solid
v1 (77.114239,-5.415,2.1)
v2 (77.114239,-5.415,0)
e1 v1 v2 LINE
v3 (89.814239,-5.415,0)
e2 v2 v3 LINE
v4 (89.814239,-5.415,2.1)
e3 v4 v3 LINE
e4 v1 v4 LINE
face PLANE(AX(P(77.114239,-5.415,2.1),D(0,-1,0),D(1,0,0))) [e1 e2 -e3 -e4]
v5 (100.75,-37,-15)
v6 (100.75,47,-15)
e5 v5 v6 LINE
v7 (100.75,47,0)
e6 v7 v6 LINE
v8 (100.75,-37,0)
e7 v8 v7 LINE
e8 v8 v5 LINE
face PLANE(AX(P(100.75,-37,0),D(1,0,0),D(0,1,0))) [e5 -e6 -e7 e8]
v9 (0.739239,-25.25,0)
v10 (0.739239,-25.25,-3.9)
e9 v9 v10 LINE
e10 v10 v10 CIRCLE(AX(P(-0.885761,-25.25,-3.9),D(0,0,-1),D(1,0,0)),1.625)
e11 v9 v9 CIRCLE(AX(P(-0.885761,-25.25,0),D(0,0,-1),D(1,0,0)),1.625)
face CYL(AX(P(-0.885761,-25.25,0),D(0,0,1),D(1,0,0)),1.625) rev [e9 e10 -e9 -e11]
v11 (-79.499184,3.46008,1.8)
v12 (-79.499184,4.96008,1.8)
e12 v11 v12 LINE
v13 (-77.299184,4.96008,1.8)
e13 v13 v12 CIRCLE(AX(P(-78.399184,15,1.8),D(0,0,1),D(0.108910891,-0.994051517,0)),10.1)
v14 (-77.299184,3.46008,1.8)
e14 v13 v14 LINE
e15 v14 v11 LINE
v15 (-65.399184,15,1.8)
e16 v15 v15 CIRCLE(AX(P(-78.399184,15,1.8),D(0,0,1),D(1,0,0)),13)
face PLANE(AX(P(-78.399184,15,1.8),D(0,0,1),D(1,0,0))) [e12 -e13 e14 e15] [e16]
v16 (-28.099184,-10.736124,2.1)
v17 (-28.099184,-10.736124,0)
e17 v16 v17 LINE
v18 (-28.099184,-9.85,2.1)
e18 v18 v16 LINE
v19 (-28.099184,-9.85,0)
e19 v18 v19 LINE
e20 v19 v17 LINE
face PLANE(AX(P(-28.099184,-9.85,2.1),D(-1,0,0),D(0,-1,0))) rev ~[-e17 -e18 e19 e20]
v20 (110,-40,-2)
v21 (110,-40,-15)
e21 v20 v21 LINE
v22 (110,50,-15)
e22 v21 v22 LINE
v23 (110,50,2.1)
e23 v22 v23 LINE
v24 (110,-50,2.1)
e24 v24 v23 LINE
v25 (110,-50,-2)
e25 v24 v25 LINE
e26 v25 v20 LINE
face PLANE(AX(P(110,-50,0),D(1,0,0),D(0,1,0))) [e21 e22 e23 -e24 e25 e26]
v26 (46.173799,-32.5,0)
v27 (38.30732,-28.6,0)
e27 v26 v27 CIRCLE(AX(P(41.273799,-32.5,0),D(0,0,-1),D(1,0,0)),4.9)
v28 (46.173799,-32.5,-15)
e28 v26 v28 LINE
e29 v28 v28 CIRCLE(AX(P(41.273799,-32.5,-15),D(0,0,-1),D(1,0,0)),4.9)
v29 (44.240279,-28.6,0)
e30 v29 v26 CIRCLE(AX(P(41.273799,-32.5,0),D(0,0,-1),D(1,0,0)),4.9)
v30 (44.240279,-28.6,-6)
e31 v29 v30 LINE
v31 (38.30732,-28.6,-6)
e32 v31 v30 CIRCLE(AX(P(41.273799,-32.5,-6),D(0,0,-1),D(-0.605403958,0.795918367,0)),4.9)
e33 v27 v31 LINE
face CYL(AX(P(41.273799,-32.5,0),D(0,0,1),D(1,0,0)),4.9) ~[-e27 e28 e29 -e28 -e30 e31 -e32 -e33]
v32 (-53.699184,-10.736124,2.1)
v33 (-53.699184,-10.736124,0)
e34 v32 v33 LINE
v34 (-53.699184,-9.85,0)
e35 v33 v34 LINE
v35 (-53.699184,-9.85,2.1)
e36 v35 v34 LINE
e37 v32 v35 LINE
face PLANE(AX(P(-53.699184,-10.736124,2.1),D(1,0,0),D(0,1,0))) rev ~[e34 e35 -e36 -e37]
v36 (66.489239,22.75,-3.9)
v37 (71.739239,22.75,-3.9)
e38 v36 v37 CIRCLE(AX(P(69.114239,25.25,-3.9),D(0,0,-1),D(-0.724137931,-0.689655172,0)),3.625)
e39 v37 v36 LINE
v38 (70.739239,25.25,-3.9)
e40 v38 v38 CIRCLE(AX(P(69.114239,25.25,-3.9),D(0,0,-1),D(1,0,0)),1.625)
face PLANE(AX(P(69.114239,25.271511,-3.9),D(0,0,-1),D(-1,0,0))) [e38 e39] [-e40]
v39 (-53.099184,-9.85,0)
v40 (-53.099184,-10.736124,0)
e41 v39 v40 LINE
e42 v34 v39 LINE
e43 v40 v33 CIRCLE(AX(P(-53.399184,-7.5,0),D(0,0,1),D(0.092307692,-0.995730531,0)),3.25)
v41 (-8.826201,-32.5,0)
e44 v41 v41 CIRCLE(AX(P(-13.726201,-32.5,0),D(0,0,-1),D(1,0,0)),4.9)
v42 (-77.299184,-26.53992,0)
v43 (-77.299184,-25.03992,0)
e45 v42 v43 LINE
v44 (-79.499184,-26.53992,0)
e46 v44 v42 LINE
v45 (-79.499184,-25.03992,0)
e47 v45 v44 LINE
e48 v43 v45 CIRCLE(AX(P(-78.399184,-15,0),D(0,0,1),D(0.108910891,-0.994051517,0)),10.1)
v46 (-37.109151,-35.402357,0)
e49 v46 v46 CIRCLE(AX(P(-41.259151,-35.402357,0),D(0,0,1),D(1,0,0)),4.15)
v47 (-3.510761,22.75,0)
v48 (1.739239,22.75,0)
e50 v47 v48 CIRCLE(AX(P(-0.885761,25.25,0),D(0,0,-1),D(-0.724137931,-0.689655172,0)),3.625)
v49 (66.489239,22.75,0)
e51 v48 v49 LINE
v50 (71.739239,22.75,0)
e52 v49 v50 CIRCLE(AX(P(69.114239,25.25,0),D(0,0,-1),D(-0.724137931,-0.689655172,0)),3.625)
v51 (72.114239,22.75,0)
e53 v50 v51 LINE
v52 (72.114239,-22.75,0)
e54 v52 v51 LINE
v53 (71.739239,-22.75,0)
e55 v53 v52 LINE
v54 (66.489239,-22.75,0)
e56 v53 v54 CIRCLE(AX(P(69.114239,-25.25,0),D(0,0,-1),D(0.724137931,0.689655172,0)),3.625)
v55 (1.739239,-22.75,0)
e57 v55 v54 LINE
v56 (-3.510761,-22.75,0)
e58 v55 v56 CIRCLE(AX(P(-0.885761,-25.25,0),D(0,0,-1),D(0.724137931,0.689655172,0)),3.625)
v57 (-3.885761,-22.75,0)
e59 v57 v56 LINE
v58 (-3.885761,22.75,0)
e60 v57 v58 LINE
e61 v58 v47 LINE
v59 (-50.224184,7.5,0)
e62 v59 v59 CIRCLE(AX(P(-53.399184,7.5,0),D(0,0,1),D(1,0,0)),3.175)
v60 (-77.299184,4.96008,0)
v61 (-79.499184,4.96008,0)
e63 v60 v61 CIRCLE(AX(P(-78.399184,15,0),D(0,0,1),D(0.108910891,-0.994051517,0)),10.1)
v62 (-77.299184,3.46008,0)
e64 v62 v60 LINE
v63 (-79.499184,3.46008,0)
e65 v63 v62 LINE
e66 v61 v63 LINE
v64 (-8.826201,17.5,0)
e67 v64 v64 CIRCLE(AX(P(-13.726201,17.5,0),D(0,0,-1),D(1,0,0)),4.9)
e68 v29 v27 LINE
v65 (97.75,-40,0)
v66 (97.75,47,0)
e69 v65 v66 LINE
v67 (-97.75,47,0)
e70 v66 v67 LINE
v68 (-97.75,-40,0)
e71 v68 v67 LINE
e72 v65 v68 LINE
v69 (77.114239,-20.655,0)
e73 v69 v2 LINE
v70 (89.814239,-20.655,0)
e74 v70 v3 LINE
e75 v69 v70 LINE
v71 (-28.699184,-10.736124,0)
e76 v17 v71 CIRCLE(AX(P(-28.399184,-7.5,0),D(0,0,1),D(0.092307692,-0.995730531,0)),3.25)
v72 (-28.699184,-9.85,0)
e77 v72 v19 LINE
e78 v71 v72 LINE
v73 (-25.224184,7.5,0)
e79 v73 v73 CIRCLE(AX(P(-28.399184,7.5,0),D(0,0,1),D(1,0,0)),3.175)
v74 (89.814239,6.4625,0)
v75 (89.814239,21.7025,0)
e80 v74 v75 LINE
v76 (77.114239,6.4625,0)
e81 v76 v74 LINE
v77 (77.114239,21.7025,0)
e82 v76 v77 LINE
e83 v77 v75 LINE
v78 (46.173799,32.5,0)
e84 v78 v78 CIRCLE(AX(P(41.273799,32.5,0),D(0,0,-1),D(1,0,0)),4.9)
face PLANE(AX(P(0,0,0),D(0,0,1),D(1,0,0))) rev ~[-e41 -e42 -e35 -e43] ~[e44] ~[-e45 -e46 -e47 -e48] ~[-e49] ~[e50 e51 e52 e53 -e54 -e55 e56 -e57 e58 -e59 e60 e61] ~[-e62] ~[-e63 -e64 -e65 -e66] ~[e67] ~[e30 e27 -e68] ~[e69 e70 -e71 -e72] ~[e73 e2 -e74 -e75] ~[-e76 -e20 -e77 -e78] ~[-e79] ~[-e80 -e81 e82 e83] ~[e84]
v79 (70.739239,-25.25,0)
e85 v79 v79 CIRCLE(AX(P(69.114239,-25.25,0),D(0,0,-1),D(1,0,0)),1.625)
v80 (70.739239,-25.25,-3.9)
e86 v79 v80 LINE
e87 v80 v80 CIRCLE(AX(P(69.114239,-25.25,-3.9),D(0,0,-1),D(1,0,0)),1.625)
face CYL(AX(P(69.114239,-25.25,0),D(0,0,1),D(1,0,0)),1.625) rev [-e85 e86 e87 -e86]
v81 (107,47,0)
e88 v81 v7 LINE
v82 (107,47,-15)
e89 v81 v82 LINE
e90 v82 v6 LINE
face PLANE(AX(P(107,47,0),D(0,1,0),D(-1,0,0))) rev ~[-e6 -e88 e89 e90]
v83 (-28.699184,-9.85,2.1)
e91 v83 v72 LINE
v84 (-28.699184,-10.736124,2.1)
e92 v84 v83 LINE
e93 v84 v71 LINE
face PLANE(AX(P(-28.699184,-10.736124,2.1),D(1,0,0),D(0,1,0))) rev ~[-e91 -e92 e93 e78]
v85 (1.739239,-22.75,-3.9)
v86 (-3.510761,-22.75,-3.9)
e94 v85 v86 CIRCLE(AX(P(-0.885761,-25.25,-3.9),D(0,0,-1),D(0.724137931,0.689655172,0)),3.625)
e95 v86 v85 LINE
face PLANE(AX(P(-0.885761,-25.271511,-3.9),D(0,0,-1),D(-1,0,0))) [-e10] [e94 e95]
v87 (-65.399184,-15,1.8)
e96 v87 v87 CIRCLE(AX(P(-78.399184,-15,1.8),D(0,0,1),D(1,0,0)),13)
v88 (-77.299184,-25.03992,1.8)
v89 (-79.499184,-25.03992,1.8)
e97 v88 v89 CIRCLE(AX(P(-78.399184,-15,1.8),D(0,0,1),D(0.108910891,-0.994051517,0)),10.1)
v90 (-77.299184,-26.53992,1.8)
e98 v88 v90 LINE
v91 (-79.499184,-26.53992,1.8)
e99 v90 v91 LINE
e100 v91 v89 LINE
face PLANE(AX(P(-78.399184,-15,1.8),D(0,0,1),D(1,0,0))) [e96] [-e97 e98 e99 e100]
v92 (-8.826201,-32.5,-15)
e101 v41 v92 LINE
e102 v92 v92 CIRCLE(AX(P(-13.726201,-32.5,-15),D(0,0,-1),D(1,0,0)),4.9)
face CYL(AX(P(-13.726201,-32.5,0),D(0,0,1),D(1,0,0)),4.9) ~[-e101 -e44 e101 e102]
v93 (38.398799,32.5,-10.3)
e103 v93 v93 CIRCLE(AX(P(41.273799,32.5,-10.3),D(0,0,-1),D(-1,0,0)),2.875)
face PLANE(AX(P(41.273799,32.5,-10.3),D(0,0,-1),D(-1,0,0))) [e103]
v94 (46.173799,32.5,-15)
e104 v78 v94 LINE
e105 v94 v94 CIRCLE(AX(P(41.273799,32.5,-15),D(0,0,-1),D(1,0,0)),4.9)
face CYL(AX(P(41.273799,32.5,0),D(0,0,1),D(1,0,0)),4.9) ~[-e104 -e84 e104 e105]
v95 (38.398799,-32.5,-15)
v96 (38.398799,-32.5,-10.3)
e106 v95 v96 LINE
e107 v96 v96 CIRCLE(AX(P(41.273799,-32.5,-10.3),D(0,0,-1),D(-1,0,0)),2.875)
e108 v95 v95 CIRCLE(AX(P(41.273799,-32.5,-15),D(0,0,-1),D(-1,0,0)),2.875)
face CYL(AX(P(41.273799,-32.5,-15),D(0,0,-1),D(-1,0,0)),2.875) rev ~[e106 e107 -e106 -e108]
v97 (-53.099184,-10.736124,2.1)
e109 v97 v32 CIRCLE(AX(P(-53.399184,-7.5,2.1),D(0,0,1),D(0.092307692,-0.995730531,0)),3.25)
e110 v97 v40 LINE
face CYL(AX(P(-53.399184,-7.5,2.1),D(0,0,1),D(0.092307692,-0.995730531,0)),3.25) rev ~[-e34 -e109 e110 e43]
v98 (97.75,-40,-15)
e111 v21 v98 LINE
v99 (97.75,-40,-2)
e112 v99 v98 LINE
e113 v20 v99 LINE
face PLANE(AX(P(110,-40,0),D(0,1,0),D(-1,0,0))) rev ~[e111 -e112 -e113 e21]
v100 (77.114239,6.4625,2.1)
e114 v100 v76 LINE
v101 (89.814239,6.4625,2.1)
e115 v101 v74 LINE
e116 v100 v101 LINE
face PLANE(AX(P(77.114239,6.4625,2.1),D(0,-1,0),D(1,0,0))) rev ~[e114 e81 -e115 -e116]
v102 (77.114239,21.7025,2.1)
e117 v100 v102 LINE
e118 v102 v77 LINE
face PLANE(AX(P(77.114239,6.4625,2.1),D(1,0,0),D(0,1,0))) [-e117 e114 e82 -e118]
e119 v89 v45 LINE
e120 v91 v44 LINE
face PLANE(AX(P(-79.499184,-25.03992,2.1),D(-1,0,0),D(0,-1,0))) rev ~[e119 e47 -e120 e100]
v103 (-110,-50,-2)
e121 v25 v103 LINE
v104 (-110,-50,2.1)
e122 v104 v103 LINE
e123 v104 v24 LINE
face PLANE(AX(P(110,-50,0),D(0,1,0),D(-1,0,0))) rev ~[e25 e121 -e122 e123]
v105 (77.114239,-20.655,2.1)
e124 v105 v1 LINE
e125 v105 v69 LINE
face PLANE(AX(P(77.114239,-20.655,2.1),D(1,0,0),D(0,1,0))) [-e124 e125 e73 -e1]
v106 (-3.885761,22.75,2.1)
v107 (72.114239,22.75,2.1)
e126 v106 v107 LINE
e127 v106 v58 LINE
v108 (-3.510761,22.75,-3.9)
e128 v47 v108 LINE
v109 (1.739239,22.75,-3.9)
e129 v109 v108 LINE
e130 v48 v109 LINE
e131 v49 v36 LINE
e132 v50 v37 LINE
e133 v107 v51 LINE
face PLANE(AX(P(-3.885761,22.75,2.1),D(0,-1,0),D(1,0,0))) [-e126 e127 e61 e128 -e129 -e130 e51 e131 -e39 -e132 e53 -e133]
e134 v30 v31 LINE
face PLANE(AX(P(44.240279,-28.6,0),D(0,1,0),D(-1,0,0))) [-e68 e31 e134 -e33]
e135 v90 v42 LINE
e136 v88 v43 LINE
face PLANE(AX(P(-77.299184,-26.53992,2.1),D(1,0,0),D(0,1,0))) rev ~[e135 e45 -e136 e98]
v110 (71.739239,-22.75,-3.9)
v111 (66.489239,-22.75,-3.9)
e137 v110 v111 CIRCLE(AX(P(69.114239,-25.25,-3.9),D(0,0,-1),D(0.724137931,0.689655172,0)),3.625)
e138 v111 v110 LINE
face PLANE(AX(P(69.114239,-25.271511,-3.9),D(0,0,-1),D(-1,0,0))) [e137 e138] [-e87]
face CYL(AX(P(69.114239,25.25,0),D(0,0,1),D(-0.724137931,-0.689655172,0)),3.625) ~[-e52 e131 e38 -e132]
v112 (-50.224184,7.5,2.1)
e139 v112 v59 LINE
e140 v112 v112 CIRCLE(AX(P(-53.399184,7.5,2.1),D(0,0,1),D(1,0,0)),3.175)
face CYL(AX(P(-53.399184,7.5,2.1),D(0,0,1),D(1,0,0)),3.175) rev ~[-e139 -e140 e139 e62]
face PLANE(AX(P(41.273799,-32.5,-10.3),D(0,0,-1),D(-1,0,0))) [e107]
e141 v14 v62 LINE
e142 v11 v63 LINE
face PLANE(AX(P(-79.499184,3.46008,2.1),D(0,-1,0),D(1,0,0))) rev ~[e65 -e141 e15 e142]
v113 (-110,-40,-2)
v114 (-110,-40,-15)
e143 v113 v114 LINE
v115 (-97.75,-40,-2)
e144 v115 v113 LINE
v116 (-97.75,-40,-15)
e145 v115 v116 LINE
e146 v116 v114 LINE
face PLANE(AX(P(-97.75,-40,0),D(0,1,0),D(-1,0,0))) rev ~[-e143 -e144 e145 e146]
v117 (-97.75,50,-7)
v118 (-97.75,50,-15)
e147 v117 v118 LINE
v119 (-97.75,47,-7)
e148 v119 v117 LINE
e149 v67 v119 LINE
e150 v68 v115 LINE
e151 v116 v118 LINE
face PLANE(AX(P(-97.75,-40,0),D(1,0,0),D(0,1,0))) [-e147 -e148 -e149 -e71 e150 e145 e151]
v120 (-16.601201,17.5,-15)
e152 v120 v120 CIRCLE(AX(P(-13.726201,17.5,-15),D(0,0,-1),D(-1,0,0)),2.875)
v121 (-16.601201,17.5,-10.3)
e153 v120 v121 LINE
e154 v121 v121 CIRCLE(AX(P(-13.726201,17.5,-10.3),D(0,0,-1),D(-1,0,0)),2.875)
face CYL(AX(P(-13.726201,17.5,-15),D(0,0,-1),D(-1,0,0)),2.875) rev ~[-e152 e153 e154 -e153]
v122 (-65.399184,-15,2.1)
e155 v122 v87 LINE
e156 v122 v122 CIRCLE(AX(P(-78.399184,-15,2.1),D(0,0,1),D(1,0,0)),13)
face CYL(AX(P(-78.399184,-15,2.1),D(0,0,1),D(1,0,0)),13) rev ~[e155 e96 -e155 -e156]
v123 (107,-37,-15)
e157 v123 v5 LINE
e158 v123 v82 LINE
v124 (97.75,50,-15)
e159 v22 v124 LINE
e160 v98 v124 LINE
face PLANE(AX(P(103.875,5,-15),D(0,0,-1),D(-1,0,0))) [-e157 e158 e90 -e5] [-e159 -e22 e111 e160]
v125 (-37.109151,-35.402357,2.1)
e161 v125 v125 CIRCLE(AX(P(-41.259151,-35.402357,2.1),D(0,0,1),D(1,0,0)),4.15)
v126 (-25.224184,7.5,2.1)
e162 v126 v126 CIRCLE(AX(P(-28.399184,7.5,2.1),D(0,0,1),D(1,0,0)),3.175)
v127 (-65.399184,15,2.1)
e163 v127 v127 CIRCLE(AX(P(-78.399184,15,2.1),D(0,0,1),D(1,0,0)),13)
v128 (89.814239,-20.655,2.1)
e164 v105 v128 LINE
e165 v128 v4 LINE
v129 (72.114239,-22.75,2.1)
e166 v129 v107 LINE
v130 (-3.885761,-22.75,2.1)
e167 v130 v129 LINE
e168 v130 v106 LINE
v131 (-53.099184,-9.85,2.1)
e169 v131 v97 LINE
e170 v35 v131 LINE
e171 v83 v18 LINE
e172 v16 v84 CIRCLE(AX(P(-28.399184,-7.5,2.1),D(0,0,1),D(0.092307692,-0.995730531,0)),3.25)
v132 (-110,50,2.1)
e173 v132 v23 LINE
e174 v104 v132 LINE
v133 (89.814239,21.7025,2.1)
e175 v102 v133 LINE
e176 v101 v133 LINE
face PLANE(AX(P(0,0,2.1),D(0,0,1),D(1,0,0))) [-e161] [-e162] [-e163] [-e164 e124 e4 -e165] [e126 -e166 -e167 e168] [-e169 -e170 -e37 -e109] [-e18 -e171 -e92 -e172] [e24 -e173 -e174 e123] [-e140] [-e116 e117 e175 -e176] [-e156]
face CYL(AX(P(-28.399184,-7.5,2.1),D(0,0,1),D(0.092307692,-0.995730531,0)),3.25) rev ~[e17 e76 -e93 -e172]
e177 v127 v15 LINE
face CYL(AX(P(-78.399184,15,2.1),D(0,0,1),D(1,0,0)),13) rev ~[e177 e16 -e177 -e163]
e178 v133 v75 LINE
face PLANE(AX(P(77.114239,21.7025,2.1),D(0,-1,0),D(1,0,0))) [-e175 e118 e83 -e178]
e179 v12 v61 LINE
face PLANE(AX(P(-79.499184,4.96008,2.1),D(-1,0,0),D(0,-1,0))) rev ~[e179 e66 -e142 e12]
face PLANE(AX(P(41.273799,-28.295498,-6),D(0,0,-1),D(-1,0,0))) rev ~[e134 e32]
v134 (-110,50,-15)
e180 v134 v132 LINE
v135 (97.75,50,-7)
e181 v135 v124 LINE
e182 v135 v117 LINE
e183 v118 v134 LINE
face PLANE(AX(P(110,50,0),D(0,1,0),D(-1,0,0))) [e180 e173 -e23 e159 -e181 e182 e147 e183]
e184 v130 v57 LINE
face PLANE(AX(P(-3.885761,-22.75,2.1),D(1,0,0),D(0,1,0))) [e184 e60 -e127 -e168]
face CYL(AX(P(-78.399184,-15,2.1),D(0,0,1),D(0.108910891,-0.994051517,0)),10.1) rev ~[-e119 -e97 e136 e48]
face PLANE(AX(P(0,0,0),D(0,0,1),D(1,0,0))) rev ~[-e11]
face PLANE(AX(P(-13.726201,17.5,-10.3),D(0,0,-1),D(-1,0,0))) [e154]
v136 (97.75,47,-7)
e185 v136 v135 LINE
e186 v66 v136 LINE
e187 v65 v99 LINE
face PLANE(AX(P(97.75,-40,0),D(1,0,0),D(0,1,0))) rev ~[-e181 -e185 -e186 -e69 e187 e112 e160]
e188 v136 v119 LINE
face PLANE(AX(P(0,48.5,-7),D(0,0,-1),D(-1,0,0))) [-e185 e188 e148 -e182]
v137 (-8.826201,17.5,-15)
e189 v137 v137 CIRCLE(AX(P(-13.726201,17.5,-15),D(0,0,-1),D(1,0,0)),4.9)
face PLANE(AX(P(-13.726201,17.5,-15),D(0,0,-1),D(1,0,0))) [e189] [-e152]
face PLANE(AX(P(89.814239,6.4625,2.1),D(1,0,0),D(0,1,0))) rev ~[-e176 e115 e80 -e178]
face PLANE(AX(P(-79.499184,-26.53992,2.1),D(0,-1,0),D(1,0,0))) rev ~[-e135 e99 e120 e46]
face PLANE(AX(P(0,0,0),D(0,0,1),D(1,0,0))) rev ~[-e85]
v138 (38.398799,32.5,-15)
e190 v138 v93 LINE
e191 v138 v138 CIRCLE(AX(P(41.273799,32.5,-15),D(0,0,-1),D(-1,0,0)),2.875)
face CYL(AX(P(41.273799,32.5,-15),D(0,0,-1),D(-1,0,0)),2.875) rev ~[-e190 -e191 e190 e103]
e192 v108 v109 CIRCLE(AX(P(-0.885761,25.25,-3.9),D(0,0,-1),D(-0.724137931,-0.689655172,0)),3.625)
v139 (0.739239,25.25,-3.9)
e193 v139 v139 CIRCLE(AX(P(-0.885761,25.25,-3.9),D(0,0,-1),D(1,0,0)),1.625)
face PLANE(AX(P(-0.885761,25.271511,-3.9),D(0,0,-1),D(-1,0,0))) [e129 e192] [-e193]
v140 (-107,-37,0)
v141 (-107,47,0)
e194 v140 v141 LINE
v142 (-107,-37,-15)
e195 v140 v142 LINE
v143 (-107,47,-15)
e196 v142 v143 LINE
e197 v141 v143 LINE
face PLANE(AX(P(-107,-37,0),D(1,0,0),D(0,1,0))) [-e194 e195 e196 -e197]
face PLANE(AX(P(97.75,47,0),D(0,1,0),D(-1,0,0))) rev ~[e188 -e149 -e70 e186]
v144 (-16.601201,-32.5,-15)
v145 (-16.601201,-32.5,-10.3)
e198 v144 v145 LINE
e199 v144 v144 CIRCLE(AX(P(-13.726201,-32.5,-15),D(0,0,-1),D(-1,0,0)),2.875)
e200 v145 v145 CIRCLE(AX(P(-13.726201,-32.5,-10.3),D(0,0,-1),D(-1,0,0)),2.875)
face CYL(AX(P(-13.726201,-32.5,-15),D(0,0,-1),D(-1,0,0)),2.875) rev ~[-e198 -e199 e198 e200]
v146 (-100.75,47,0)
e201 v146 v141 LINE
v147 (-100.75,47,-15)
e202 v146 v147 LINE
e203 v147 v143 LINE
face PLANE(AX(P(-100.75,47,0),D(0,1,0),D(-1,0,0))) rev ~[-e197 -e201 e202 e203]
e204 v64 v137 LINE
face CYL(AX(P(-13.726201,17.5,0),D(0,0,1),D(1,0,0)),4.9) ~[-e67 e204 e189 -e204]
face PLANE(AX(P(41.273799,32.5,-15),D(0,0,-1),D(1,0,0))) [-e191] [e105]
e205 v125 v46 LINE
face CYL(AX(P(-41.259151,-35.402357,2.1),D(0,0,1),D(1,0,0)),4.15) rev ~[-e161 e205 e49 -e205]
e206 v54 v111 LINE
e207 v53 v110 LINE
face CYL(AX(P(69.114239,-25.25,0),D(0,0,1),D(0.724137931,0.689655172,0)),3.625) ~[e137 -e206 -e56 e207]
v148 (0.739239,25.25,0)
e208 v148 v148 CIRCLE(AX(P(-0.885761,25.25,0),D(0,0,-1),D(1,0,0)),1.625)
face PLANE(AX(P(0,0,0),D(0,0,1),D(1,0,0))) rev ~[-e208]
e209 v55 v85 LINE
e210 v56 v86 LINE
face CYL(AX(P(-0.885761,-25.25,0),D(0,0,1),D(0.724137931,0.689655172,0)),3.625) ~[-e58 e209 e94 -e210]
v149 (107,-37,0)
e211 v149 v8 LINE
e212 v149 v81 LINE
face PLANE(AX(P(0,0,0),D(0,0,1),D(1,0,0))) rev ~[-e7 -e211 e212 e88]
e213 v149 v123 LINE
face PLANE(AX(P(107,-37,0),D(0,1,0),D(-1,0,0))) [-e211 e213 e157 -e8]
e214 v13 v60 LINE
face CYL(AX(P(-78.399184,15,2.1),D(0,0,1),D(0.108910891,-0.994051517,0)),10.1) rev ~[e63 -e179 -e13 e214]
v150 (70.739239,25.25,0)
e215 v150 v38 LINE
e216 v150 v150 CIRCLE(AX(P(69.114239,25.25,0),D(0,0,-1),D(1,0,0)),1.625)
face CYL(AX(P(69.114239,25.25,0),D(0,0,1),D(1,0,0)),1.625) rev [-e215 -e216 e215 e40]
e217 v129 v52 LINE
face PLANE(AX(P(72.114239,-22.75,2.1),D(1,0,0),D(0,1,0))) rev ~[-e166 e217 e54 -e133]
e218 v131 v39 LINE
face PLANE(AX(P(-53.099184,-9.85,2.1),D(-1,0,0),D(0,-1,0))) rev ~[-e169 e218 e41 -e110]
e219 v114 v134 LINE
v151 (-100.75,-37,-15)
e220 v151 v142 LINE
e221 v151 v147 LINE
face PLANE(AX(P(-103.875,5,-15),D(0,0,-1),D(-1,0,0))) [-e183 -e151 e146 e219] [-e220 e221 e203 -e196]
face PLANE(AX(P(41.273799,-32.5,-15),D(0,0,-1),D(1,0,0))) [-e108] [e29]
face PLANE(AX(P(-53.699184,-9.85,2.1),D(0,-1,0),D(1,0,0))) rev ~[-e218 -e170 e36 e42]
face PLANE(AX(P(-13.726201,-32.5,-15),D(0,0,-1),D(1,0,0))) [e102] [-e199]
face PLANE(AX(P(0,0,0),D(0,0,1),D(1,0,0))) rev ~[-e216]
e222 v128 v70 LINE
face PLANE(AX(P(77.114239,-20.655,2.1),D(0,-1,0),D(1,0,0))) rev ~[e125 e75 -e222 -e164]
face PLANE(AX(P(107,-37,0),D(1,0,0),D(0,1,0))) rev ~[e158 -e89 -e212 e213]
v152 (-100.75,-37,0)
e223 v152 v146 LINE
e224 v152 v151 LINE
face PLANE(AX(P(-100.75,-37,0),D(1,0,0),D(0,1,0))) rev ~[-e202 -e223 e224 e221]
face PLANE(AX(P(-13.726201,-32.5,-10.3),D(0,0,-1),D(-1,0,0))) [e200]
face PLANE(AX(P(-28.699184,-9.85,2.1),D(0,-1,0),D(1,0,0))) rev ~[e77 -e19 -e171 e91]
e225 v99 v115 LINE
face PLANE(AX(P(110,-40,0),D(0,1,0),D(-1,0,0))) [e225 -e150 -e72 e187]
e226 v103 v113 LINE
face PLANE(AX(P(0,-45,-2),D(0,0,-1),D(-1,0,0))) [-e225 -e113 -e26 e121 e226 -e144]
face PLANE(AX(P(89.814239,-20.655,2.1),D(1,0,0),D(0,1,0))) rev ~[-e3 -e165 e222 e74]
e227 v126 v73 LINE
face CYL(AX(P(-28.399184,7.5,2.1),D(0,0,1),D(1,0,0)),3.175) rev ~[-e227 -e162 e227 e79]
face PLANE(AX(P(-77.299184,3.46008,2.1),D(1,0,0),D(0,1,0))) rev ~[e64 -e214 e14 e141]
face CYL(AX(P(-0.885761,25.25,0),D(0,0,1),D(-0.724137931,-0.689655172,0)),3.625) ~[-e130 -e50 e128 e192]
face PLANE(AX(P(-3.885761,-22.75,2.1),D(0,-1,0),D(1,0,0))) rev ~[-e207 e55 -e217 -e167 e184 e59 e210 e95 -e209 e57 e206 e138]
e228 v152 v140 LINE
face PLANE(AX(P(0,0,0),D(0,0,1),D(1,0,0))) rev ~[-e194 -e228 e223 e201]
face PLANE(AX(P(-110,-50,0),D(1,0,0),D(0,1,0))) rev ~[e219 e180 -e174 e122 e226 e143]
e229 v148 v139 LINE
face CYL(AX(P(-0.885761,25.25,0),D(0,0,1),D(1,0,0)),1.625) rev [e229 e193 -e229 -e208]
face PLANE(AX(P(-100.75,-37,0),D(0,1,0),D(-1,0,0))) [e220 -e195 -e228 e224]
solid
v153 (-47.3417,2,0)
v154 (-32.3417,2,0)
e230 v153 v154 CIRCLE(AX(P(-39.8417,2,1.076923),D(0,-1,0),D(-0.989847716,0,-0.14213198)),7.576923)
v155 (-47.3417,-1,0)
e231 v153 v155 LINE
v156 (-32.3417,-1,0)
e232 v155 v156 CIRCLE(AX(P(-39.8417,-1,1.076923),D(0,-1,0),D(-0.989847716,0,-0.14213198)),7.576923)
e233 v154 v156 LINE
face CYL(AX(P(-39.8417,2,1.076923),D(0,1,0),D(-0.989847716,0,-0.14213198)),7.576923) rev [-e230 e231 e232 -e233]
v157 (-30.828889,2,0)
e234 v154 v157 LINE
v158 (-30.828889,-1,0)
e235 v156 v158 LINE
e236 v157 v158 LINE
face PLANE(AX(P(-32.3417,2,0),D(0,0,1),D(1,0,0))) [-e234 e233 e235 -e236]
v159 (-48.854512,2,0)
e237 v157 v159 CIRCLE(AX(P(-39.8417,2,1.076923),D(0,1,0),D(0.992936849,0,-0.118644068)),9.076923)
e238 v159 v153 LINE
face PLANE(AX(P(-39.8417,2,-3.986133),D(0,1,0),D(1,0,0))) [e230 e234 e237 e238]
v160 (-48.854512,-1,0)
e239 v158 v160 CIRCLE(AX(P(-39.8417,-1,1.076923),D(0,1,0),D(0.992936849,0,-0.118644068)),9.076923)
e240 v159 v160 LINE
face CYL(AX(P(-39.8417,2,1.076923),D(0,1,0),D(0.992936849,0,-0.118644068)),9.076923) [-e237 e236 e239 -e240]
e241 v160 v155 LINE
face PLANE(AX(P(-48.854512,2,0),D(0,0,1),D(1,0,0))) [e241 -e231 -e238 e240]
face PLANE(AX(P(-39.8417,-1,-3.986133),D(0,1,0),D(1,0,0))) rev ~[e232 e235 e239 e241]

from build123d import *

# Parameters (mm, degrees)
SKETCH1_W             = 220
SKETCH1_H             = 100
FRONT_PANEL_DEPTH     = 2.1
START_STOP_DEPTH      = 121.848707068
SKETCH3_R             = 3.175
MODE_SELECT_DEPTH     = 121.848707068
SKETCH4_W             = 76
SKETCH4_H             = 45.5
LCD_CUTOUT_DEPTH      = 121.848707068
SKETCH6_W             = 12.7
SKETCH6_H             = 15.24
LCD_PUSHBUTTONS_DEPTH = 121.848707068
SKETCH8_W             = 12.25
SKETCH8_H             = 90
SKETCH8_W_2           = 6.25
SKETCH8_H_2           = 84
BOSS_EXTRUDE1_DEPTH   = 15
SKETCH9_R             = 4.9
BOSS_EXTRUDE2_DEPTH   = 15
SKETCH11_R            = 1.625
BOSS_EXTRUDE3_DEPTH   = 3.9
CUT_EXTRUDE1_DEPTH    = 6
SKETCH13_R            = 2.875
CUT_EXTRUDE2_DEPTH    = 4.7
SKETCH14_W            = 195.5
SKETCH14_H            = 3
BOSS_EXTRUDE4_DEPTH   = 7
SKETCH17_R            = 13
CUT_EXTRUDE3_DEPTH    = 0.3
SKETCH18_W            = 220
SKETCH18_H            = 10
BOSS_EXTRUDE5_DEPTH   = 2
SKETCH19_R            = 4.15
CUT_EXTRUDE4_DEPTH    = 123.034462346
BOSS_EXTRUDE6_START   = -48
BOSS_EXTRUDE6_DEPTH   = 3


with BuildPart() as part:
    # Sketch1 → Front panel (new body)
    with BuildSketch(Plane.XY):
        Rectangle(SKETCH1_W, SKETCH1_H)
    extrude(amount=FRONT_PANEL_DEPTH)

    # Sketch2 → Start/stop (cut, through all)
    with BuildSketch(Plane.XY.offset(2.1)):
        with BuildLine():
            Line((-79.499183747, 4.960079682), (-79.499183747, 3.460079682))
            Line((-79.499183747, 3.460079682), (-77.299183747, 3.460079682))
            Line((-77.299183747, 3.460079682), (-77.299183747, 4.960079682))
            ThreePointArc((-77.299183747, 4.960079682), (-78.399183747, 25.1), (-79.499183747, 4.960079682))
        make_face()
        with BuildLine():
            Line((-79.499183747, -25.039920318), (-79.499183747, -26.539920318))
            Line((-79.499183747, -26.539920318), (-77.299183747, -26.539920318))
            Line((-77.299183747, -26.539920318), (-77.299183747, -25.039920318))
            ThreePointArc((-77.299183747, -25.039920318), (-78.399183747, -4.9), (-79.499183747, -25.039920318))
        make_face()
    extrude(amount=-START_STOP_DEPTH, mode=Mode.SUBTRACT)

    # Sketch3 → Mode select (cut, through all)
    with BuildSketch(Plane.XY.offset(2.1)):
        with Locations((-53.399183747, 7.5)):
            Circle(SKETCH3_R)
        with Locations((-28.399183747, 7.5)):
            Circle(SKETCH3_R)
        with BuildLine():
            Line((-53.699183747, -10.736124225), (-53.699183747, -9.85))
            Line((-53.699183747, -9.85), (-53.099183747, -9.85))
            Line((-53.099183747, -9.85), (-53.099183747, -10.736124225))
            ThreePointArc((-53.099183747, -10.736124225), (-53.399183747, -4.25), (-53.699183747, -10.736124225))
        make_face()
        with BuildLine():
            Line((-28.699183747, -10.736124225), (-28.699183747, -9.85))
            Line((-28.699183747, -9.85), (-28.099183747, -9.85))
            Line((-28.099183747, -9.85), (-28.099183747, -10.736124225))
            ThreePointArc((-28.099183747, -10.736124225), (-28.399183747, -4.25), (-28.699183747, -10.736124225))
        make_face()
    extrude(amount=-MODE_SELECT_DEPTH, mode=Mode.SUBTRACT)

    # Sketch4 → LCD cutout (cut, through all)
    with BuildSketch(Plane.XY.offset(2.1)):
        with Locations((34.114239424, 0)):
            Rectangle(SKETCH4_W, SKETCH4_H)
    extrude(amount=-LCD_CUTOUT_DEPTH, mode=Mode.SUBTRACT)

    # Sketch6 → LCD pushbuttons (cut, through all)
    with BuildSketch(Plane.XY.offset(2.1)):
        with Locations((83.464239424, 14.0825)):
            Rectangle(SKETCH6_W, SKETCH6_H)
        with Locations((83.464239424, -13.035)):
            Rectangle(SKETCH6_W, SKETCH6_H)
    extrude(amount=-LCD_PUSHBUTTONS_DEPTH, mode=Mode.SUBTRACT)

    # Sketch8 → Boss-Extrude1 (add)
    # profile 1 of 2: a face of its own
    with BuildSketch(Plane(origin=(0, 0, 0), x_dir=(-1, 0, 0), z_dir=(0, 0, -1))):
        with Locations((-103.875, 5)):
            Rectangle(SKETCH8_W, SKETCH8_H)
        with Locations((-103.875, 5)):
            Rectangle(SKETCH8_W_2, SKETCH8_H_2, mode=Mode.SUBTRACT)
    # profile 2 of 2: a face of its own
    with BuildSketch(Plane(origin=(0, 0, 0), x_dir=(-1, 0, 0), z_dir=(0, 0, -1))):
        with Locations((103.875, 5)):
            Rectangle(SKETCH8_W, SKETCH8_H)
        with Locations((103.875, 5)):
            Rectangle(SKETCH8_W_2, SKETCH8_H_2, mode=Mode.SUBTRACT)
    extrude(amount=BOSS_EXTRUDE1_DEPTH)

    # Sketch9 → Boss-Extrude2 (add)
    with BuildSketch(Plane(origin=(0, 0, 0), x_dir=(-1, 0, 0), z_dir=(0, 0, -1))):
        with Locations(Location((-41.273799242, -32.5, 0), (0, 0, 180))):
            Circle(SKETCH9_R)
        with Locations(Location((13.726200758, -32.5, 0), (0, 0, 180))):
            Circle(SKETCH9_R)
        with Locations(Location((13.726200758, 17.5, 0), (0, 0, 180))):
            Circle(SKETCH9_R)
        with Locations(Location((-41.273799242, 32.5, 0), (0, 0, 180))):
            Circle(SKETCH9_R)
    extrude(amount=BOSS_EXTRUDE2_DEPTH)

    # Sketch11 → Boss-Extrude3 (add)
    # profile 1 of 4: a face of its own
    with BuildSketch(Plane(origin=(0, 0, 0), x_dir=(-1, 0, 0), z_dir=(0, 0, -1))):
        with BuildLine():
            Line((-71.739239424, 22.75), (-66.489239424, 22.75))
            ThreePointArc((-66.489239424, 22.75), (-69.114239424, 28.875), (-71.739239424, 22.75))
        make_face()
        with Locations(Location((-69.114239424, 25.25, 0), (0, 0, 180))):
            Circle(SKETCH11_R, mode=Mode.SUBTRACT)
    # profile 2 of 4: a face of its own
    with BuildSketch(Plane(origin=(0, 0, 0), x_dir=(-1, 0, 0), z_dir=(0, 0, -1))):
        with BuildLine():
            Line((3.510760576, -22.75), (-1.739239424, -22.75))
            ThreePointArc((-1.739239424, -22.75), (0.885760576, -28.875), (3.510760576, -22.75))
        make_face()
        with Locations(Location((0.885760576, -25.25, 0), (0, 0, 180))):
            Circle(SKETCH11_R, mode=Mode.SUBTRACT)
    # profile 3 of 4: a face of its own
    with BuildSketch(Plane(origin=(0, 0, 0), x_dir=(-1, 0, 0), z_dir=(0, 0, -1))):
        with BuildLine():
            Line((-66.489239424, -22.75), (-71.739239424, -22.75))
            ThreePointArc((-71.739239424, -22.75), (-69.114239424, -28.875), (-66.489239424, -22.75))
        make_face()
        with Locations(Location((-69.114239424, -25.25, 0), (0, 0, 180))):
            Circle(SKETCH11_R, mode=Mode.SUBTRACT)
    # profile 4 of 4: a face of its own
    with BuildSketch(Plane(origin=(0, 0, 0), x_dir=(-1, 0, 0), z_dir=(0, 0, -1))):
        with BuildLine():
            Line((-1.739239424, 22.75), (3.510760576, 22.75))
            ThreePointArc((3.510760576, 22.75), (0.885760576, 28.875), (-1.739239424, 22.75))
        make_face()
        with Locations(Location((0.885760576, 25.25, 0), (0, 0, 180))):
            Circle(SKETCH11_R, mode=Mode.SUBTRACT)
    extrude(amount=BOSS_EXTRUDE3_DEPTH)

    # Sketch12 → Cut-Extrude1 (cut)
    with BuildSketch(Plane(origin=(0, 0, 0), x_dir=(-1, 0, 0), z_dir=(0, 0, -1))):
        with BuildLine():
            Line((-44.240278637, -28.6), (-38.307319848, -28.6))
            ThreePointArc((-38.307319848, -28.6), (-41.273799242, -27.6), (-44.240278637, -28.6))
        make_face()
    extrude(amount=CUT_EXTRUDE1_DEPTH, mode=Mode.SUBTRACT)

    # Sketch13 → Cut-Extrude2 (cut)
    with BuildSketch(Plane(origin=(0, 0, -15), x_dir=(-1, 0, 0), z_dir=(0, 0, -1))):
        with Locations((13.726200758, -32.5)):
            Circle(SKETCH13_R)
        with Locations((-41.273799242, -32.5)):
            Circle(SKETCH13_R)
        with Locations((-41.273799242, 32.5)):
            Circle(SKETCH13_R)
        with Locations((13.726200758, 17.5)):
            Circle(SKETCH13_R)
    extrude(amount=-CUT_EXTRUDE2_DEPTH, mode=Mode.SUBTRACT)

    # Sketch14 → Boss-Extrude4 (add)
    with BuildSketch(Plane(origin=(0, 0, 0), x_dir=(-1, 0, 0), z_dir=(0, 0, -1))):
        with Locations((0, 48.5)):
            Rectangle(SKETCH14_W, SKETCH14_H)
    extrude(amount=BOSS_EXTRUDE4_DEPTH)

    # Sketch17 → Cut-Extrude3 (cut)
    with BuildSketch(Plane.XY.offset(2.1)):
        with Locations((-78.399183747, 15)):
            Circle(SKETCH17_R)
        with Locations((-78.399183747, -15)):
            Circle(SKETCH17_R)
    extrude(amount=-CUT_EXTRUDE3_DEPTH, mode=Mode.SUBTRACT)

    # Sketch18 → Boss-Extrude5 (add)
    with BuildSketch(Plane(origin=(0, 0, 0), x_dir=(-1, 0, 0), z_dir=(0, 0, -1))):
        with Locations((0, -45)):
            Rectangle(SKETCH18_W, SKETCH18_H)
    extrude(amount=BOSS_EXTRUDE5_DEPTH)

    # Sketch19 → Cut-Extrude4 (cut, through all)
    with BuildSketch(Plane.XY.offset(2.1)):
        with Locations((-41.25915054, -35.402356649)):
            Circle(SKETCH19_R)
    extrude(amount=-CUT_EXTRUDE4_DEPTH, mode=Mode.SUBTRACT)


with BuildPart() as body_2:
    # Sketch20 → Boss-Extrude6 (new body)
    with BuildSketch(Plane(origin=(0, 50, 0), x_dir=(1, 0, 0), z_dir=(0, 1, 0)).offset(BOSS_EXTRUDE6_START)):
        with BuildLine():
            Line((-48.854511876, 0), (-47.341700482, 0))
            ThreePointArc((-47.341700482, 0), (-39.841700482, 6.5), (-32.341700482, 0))
            Line((-32.341700482, 0), (-30.828889087, 0))
            ThreePointArc((-30.828889087, 0), (-39.841700482, 8), (-48.854511876, 0))
        make_face()
    extrude(amount=-BOSS_EXTRUDE6_DEPTH)


solid = Compound([part.part, body_2.part])
